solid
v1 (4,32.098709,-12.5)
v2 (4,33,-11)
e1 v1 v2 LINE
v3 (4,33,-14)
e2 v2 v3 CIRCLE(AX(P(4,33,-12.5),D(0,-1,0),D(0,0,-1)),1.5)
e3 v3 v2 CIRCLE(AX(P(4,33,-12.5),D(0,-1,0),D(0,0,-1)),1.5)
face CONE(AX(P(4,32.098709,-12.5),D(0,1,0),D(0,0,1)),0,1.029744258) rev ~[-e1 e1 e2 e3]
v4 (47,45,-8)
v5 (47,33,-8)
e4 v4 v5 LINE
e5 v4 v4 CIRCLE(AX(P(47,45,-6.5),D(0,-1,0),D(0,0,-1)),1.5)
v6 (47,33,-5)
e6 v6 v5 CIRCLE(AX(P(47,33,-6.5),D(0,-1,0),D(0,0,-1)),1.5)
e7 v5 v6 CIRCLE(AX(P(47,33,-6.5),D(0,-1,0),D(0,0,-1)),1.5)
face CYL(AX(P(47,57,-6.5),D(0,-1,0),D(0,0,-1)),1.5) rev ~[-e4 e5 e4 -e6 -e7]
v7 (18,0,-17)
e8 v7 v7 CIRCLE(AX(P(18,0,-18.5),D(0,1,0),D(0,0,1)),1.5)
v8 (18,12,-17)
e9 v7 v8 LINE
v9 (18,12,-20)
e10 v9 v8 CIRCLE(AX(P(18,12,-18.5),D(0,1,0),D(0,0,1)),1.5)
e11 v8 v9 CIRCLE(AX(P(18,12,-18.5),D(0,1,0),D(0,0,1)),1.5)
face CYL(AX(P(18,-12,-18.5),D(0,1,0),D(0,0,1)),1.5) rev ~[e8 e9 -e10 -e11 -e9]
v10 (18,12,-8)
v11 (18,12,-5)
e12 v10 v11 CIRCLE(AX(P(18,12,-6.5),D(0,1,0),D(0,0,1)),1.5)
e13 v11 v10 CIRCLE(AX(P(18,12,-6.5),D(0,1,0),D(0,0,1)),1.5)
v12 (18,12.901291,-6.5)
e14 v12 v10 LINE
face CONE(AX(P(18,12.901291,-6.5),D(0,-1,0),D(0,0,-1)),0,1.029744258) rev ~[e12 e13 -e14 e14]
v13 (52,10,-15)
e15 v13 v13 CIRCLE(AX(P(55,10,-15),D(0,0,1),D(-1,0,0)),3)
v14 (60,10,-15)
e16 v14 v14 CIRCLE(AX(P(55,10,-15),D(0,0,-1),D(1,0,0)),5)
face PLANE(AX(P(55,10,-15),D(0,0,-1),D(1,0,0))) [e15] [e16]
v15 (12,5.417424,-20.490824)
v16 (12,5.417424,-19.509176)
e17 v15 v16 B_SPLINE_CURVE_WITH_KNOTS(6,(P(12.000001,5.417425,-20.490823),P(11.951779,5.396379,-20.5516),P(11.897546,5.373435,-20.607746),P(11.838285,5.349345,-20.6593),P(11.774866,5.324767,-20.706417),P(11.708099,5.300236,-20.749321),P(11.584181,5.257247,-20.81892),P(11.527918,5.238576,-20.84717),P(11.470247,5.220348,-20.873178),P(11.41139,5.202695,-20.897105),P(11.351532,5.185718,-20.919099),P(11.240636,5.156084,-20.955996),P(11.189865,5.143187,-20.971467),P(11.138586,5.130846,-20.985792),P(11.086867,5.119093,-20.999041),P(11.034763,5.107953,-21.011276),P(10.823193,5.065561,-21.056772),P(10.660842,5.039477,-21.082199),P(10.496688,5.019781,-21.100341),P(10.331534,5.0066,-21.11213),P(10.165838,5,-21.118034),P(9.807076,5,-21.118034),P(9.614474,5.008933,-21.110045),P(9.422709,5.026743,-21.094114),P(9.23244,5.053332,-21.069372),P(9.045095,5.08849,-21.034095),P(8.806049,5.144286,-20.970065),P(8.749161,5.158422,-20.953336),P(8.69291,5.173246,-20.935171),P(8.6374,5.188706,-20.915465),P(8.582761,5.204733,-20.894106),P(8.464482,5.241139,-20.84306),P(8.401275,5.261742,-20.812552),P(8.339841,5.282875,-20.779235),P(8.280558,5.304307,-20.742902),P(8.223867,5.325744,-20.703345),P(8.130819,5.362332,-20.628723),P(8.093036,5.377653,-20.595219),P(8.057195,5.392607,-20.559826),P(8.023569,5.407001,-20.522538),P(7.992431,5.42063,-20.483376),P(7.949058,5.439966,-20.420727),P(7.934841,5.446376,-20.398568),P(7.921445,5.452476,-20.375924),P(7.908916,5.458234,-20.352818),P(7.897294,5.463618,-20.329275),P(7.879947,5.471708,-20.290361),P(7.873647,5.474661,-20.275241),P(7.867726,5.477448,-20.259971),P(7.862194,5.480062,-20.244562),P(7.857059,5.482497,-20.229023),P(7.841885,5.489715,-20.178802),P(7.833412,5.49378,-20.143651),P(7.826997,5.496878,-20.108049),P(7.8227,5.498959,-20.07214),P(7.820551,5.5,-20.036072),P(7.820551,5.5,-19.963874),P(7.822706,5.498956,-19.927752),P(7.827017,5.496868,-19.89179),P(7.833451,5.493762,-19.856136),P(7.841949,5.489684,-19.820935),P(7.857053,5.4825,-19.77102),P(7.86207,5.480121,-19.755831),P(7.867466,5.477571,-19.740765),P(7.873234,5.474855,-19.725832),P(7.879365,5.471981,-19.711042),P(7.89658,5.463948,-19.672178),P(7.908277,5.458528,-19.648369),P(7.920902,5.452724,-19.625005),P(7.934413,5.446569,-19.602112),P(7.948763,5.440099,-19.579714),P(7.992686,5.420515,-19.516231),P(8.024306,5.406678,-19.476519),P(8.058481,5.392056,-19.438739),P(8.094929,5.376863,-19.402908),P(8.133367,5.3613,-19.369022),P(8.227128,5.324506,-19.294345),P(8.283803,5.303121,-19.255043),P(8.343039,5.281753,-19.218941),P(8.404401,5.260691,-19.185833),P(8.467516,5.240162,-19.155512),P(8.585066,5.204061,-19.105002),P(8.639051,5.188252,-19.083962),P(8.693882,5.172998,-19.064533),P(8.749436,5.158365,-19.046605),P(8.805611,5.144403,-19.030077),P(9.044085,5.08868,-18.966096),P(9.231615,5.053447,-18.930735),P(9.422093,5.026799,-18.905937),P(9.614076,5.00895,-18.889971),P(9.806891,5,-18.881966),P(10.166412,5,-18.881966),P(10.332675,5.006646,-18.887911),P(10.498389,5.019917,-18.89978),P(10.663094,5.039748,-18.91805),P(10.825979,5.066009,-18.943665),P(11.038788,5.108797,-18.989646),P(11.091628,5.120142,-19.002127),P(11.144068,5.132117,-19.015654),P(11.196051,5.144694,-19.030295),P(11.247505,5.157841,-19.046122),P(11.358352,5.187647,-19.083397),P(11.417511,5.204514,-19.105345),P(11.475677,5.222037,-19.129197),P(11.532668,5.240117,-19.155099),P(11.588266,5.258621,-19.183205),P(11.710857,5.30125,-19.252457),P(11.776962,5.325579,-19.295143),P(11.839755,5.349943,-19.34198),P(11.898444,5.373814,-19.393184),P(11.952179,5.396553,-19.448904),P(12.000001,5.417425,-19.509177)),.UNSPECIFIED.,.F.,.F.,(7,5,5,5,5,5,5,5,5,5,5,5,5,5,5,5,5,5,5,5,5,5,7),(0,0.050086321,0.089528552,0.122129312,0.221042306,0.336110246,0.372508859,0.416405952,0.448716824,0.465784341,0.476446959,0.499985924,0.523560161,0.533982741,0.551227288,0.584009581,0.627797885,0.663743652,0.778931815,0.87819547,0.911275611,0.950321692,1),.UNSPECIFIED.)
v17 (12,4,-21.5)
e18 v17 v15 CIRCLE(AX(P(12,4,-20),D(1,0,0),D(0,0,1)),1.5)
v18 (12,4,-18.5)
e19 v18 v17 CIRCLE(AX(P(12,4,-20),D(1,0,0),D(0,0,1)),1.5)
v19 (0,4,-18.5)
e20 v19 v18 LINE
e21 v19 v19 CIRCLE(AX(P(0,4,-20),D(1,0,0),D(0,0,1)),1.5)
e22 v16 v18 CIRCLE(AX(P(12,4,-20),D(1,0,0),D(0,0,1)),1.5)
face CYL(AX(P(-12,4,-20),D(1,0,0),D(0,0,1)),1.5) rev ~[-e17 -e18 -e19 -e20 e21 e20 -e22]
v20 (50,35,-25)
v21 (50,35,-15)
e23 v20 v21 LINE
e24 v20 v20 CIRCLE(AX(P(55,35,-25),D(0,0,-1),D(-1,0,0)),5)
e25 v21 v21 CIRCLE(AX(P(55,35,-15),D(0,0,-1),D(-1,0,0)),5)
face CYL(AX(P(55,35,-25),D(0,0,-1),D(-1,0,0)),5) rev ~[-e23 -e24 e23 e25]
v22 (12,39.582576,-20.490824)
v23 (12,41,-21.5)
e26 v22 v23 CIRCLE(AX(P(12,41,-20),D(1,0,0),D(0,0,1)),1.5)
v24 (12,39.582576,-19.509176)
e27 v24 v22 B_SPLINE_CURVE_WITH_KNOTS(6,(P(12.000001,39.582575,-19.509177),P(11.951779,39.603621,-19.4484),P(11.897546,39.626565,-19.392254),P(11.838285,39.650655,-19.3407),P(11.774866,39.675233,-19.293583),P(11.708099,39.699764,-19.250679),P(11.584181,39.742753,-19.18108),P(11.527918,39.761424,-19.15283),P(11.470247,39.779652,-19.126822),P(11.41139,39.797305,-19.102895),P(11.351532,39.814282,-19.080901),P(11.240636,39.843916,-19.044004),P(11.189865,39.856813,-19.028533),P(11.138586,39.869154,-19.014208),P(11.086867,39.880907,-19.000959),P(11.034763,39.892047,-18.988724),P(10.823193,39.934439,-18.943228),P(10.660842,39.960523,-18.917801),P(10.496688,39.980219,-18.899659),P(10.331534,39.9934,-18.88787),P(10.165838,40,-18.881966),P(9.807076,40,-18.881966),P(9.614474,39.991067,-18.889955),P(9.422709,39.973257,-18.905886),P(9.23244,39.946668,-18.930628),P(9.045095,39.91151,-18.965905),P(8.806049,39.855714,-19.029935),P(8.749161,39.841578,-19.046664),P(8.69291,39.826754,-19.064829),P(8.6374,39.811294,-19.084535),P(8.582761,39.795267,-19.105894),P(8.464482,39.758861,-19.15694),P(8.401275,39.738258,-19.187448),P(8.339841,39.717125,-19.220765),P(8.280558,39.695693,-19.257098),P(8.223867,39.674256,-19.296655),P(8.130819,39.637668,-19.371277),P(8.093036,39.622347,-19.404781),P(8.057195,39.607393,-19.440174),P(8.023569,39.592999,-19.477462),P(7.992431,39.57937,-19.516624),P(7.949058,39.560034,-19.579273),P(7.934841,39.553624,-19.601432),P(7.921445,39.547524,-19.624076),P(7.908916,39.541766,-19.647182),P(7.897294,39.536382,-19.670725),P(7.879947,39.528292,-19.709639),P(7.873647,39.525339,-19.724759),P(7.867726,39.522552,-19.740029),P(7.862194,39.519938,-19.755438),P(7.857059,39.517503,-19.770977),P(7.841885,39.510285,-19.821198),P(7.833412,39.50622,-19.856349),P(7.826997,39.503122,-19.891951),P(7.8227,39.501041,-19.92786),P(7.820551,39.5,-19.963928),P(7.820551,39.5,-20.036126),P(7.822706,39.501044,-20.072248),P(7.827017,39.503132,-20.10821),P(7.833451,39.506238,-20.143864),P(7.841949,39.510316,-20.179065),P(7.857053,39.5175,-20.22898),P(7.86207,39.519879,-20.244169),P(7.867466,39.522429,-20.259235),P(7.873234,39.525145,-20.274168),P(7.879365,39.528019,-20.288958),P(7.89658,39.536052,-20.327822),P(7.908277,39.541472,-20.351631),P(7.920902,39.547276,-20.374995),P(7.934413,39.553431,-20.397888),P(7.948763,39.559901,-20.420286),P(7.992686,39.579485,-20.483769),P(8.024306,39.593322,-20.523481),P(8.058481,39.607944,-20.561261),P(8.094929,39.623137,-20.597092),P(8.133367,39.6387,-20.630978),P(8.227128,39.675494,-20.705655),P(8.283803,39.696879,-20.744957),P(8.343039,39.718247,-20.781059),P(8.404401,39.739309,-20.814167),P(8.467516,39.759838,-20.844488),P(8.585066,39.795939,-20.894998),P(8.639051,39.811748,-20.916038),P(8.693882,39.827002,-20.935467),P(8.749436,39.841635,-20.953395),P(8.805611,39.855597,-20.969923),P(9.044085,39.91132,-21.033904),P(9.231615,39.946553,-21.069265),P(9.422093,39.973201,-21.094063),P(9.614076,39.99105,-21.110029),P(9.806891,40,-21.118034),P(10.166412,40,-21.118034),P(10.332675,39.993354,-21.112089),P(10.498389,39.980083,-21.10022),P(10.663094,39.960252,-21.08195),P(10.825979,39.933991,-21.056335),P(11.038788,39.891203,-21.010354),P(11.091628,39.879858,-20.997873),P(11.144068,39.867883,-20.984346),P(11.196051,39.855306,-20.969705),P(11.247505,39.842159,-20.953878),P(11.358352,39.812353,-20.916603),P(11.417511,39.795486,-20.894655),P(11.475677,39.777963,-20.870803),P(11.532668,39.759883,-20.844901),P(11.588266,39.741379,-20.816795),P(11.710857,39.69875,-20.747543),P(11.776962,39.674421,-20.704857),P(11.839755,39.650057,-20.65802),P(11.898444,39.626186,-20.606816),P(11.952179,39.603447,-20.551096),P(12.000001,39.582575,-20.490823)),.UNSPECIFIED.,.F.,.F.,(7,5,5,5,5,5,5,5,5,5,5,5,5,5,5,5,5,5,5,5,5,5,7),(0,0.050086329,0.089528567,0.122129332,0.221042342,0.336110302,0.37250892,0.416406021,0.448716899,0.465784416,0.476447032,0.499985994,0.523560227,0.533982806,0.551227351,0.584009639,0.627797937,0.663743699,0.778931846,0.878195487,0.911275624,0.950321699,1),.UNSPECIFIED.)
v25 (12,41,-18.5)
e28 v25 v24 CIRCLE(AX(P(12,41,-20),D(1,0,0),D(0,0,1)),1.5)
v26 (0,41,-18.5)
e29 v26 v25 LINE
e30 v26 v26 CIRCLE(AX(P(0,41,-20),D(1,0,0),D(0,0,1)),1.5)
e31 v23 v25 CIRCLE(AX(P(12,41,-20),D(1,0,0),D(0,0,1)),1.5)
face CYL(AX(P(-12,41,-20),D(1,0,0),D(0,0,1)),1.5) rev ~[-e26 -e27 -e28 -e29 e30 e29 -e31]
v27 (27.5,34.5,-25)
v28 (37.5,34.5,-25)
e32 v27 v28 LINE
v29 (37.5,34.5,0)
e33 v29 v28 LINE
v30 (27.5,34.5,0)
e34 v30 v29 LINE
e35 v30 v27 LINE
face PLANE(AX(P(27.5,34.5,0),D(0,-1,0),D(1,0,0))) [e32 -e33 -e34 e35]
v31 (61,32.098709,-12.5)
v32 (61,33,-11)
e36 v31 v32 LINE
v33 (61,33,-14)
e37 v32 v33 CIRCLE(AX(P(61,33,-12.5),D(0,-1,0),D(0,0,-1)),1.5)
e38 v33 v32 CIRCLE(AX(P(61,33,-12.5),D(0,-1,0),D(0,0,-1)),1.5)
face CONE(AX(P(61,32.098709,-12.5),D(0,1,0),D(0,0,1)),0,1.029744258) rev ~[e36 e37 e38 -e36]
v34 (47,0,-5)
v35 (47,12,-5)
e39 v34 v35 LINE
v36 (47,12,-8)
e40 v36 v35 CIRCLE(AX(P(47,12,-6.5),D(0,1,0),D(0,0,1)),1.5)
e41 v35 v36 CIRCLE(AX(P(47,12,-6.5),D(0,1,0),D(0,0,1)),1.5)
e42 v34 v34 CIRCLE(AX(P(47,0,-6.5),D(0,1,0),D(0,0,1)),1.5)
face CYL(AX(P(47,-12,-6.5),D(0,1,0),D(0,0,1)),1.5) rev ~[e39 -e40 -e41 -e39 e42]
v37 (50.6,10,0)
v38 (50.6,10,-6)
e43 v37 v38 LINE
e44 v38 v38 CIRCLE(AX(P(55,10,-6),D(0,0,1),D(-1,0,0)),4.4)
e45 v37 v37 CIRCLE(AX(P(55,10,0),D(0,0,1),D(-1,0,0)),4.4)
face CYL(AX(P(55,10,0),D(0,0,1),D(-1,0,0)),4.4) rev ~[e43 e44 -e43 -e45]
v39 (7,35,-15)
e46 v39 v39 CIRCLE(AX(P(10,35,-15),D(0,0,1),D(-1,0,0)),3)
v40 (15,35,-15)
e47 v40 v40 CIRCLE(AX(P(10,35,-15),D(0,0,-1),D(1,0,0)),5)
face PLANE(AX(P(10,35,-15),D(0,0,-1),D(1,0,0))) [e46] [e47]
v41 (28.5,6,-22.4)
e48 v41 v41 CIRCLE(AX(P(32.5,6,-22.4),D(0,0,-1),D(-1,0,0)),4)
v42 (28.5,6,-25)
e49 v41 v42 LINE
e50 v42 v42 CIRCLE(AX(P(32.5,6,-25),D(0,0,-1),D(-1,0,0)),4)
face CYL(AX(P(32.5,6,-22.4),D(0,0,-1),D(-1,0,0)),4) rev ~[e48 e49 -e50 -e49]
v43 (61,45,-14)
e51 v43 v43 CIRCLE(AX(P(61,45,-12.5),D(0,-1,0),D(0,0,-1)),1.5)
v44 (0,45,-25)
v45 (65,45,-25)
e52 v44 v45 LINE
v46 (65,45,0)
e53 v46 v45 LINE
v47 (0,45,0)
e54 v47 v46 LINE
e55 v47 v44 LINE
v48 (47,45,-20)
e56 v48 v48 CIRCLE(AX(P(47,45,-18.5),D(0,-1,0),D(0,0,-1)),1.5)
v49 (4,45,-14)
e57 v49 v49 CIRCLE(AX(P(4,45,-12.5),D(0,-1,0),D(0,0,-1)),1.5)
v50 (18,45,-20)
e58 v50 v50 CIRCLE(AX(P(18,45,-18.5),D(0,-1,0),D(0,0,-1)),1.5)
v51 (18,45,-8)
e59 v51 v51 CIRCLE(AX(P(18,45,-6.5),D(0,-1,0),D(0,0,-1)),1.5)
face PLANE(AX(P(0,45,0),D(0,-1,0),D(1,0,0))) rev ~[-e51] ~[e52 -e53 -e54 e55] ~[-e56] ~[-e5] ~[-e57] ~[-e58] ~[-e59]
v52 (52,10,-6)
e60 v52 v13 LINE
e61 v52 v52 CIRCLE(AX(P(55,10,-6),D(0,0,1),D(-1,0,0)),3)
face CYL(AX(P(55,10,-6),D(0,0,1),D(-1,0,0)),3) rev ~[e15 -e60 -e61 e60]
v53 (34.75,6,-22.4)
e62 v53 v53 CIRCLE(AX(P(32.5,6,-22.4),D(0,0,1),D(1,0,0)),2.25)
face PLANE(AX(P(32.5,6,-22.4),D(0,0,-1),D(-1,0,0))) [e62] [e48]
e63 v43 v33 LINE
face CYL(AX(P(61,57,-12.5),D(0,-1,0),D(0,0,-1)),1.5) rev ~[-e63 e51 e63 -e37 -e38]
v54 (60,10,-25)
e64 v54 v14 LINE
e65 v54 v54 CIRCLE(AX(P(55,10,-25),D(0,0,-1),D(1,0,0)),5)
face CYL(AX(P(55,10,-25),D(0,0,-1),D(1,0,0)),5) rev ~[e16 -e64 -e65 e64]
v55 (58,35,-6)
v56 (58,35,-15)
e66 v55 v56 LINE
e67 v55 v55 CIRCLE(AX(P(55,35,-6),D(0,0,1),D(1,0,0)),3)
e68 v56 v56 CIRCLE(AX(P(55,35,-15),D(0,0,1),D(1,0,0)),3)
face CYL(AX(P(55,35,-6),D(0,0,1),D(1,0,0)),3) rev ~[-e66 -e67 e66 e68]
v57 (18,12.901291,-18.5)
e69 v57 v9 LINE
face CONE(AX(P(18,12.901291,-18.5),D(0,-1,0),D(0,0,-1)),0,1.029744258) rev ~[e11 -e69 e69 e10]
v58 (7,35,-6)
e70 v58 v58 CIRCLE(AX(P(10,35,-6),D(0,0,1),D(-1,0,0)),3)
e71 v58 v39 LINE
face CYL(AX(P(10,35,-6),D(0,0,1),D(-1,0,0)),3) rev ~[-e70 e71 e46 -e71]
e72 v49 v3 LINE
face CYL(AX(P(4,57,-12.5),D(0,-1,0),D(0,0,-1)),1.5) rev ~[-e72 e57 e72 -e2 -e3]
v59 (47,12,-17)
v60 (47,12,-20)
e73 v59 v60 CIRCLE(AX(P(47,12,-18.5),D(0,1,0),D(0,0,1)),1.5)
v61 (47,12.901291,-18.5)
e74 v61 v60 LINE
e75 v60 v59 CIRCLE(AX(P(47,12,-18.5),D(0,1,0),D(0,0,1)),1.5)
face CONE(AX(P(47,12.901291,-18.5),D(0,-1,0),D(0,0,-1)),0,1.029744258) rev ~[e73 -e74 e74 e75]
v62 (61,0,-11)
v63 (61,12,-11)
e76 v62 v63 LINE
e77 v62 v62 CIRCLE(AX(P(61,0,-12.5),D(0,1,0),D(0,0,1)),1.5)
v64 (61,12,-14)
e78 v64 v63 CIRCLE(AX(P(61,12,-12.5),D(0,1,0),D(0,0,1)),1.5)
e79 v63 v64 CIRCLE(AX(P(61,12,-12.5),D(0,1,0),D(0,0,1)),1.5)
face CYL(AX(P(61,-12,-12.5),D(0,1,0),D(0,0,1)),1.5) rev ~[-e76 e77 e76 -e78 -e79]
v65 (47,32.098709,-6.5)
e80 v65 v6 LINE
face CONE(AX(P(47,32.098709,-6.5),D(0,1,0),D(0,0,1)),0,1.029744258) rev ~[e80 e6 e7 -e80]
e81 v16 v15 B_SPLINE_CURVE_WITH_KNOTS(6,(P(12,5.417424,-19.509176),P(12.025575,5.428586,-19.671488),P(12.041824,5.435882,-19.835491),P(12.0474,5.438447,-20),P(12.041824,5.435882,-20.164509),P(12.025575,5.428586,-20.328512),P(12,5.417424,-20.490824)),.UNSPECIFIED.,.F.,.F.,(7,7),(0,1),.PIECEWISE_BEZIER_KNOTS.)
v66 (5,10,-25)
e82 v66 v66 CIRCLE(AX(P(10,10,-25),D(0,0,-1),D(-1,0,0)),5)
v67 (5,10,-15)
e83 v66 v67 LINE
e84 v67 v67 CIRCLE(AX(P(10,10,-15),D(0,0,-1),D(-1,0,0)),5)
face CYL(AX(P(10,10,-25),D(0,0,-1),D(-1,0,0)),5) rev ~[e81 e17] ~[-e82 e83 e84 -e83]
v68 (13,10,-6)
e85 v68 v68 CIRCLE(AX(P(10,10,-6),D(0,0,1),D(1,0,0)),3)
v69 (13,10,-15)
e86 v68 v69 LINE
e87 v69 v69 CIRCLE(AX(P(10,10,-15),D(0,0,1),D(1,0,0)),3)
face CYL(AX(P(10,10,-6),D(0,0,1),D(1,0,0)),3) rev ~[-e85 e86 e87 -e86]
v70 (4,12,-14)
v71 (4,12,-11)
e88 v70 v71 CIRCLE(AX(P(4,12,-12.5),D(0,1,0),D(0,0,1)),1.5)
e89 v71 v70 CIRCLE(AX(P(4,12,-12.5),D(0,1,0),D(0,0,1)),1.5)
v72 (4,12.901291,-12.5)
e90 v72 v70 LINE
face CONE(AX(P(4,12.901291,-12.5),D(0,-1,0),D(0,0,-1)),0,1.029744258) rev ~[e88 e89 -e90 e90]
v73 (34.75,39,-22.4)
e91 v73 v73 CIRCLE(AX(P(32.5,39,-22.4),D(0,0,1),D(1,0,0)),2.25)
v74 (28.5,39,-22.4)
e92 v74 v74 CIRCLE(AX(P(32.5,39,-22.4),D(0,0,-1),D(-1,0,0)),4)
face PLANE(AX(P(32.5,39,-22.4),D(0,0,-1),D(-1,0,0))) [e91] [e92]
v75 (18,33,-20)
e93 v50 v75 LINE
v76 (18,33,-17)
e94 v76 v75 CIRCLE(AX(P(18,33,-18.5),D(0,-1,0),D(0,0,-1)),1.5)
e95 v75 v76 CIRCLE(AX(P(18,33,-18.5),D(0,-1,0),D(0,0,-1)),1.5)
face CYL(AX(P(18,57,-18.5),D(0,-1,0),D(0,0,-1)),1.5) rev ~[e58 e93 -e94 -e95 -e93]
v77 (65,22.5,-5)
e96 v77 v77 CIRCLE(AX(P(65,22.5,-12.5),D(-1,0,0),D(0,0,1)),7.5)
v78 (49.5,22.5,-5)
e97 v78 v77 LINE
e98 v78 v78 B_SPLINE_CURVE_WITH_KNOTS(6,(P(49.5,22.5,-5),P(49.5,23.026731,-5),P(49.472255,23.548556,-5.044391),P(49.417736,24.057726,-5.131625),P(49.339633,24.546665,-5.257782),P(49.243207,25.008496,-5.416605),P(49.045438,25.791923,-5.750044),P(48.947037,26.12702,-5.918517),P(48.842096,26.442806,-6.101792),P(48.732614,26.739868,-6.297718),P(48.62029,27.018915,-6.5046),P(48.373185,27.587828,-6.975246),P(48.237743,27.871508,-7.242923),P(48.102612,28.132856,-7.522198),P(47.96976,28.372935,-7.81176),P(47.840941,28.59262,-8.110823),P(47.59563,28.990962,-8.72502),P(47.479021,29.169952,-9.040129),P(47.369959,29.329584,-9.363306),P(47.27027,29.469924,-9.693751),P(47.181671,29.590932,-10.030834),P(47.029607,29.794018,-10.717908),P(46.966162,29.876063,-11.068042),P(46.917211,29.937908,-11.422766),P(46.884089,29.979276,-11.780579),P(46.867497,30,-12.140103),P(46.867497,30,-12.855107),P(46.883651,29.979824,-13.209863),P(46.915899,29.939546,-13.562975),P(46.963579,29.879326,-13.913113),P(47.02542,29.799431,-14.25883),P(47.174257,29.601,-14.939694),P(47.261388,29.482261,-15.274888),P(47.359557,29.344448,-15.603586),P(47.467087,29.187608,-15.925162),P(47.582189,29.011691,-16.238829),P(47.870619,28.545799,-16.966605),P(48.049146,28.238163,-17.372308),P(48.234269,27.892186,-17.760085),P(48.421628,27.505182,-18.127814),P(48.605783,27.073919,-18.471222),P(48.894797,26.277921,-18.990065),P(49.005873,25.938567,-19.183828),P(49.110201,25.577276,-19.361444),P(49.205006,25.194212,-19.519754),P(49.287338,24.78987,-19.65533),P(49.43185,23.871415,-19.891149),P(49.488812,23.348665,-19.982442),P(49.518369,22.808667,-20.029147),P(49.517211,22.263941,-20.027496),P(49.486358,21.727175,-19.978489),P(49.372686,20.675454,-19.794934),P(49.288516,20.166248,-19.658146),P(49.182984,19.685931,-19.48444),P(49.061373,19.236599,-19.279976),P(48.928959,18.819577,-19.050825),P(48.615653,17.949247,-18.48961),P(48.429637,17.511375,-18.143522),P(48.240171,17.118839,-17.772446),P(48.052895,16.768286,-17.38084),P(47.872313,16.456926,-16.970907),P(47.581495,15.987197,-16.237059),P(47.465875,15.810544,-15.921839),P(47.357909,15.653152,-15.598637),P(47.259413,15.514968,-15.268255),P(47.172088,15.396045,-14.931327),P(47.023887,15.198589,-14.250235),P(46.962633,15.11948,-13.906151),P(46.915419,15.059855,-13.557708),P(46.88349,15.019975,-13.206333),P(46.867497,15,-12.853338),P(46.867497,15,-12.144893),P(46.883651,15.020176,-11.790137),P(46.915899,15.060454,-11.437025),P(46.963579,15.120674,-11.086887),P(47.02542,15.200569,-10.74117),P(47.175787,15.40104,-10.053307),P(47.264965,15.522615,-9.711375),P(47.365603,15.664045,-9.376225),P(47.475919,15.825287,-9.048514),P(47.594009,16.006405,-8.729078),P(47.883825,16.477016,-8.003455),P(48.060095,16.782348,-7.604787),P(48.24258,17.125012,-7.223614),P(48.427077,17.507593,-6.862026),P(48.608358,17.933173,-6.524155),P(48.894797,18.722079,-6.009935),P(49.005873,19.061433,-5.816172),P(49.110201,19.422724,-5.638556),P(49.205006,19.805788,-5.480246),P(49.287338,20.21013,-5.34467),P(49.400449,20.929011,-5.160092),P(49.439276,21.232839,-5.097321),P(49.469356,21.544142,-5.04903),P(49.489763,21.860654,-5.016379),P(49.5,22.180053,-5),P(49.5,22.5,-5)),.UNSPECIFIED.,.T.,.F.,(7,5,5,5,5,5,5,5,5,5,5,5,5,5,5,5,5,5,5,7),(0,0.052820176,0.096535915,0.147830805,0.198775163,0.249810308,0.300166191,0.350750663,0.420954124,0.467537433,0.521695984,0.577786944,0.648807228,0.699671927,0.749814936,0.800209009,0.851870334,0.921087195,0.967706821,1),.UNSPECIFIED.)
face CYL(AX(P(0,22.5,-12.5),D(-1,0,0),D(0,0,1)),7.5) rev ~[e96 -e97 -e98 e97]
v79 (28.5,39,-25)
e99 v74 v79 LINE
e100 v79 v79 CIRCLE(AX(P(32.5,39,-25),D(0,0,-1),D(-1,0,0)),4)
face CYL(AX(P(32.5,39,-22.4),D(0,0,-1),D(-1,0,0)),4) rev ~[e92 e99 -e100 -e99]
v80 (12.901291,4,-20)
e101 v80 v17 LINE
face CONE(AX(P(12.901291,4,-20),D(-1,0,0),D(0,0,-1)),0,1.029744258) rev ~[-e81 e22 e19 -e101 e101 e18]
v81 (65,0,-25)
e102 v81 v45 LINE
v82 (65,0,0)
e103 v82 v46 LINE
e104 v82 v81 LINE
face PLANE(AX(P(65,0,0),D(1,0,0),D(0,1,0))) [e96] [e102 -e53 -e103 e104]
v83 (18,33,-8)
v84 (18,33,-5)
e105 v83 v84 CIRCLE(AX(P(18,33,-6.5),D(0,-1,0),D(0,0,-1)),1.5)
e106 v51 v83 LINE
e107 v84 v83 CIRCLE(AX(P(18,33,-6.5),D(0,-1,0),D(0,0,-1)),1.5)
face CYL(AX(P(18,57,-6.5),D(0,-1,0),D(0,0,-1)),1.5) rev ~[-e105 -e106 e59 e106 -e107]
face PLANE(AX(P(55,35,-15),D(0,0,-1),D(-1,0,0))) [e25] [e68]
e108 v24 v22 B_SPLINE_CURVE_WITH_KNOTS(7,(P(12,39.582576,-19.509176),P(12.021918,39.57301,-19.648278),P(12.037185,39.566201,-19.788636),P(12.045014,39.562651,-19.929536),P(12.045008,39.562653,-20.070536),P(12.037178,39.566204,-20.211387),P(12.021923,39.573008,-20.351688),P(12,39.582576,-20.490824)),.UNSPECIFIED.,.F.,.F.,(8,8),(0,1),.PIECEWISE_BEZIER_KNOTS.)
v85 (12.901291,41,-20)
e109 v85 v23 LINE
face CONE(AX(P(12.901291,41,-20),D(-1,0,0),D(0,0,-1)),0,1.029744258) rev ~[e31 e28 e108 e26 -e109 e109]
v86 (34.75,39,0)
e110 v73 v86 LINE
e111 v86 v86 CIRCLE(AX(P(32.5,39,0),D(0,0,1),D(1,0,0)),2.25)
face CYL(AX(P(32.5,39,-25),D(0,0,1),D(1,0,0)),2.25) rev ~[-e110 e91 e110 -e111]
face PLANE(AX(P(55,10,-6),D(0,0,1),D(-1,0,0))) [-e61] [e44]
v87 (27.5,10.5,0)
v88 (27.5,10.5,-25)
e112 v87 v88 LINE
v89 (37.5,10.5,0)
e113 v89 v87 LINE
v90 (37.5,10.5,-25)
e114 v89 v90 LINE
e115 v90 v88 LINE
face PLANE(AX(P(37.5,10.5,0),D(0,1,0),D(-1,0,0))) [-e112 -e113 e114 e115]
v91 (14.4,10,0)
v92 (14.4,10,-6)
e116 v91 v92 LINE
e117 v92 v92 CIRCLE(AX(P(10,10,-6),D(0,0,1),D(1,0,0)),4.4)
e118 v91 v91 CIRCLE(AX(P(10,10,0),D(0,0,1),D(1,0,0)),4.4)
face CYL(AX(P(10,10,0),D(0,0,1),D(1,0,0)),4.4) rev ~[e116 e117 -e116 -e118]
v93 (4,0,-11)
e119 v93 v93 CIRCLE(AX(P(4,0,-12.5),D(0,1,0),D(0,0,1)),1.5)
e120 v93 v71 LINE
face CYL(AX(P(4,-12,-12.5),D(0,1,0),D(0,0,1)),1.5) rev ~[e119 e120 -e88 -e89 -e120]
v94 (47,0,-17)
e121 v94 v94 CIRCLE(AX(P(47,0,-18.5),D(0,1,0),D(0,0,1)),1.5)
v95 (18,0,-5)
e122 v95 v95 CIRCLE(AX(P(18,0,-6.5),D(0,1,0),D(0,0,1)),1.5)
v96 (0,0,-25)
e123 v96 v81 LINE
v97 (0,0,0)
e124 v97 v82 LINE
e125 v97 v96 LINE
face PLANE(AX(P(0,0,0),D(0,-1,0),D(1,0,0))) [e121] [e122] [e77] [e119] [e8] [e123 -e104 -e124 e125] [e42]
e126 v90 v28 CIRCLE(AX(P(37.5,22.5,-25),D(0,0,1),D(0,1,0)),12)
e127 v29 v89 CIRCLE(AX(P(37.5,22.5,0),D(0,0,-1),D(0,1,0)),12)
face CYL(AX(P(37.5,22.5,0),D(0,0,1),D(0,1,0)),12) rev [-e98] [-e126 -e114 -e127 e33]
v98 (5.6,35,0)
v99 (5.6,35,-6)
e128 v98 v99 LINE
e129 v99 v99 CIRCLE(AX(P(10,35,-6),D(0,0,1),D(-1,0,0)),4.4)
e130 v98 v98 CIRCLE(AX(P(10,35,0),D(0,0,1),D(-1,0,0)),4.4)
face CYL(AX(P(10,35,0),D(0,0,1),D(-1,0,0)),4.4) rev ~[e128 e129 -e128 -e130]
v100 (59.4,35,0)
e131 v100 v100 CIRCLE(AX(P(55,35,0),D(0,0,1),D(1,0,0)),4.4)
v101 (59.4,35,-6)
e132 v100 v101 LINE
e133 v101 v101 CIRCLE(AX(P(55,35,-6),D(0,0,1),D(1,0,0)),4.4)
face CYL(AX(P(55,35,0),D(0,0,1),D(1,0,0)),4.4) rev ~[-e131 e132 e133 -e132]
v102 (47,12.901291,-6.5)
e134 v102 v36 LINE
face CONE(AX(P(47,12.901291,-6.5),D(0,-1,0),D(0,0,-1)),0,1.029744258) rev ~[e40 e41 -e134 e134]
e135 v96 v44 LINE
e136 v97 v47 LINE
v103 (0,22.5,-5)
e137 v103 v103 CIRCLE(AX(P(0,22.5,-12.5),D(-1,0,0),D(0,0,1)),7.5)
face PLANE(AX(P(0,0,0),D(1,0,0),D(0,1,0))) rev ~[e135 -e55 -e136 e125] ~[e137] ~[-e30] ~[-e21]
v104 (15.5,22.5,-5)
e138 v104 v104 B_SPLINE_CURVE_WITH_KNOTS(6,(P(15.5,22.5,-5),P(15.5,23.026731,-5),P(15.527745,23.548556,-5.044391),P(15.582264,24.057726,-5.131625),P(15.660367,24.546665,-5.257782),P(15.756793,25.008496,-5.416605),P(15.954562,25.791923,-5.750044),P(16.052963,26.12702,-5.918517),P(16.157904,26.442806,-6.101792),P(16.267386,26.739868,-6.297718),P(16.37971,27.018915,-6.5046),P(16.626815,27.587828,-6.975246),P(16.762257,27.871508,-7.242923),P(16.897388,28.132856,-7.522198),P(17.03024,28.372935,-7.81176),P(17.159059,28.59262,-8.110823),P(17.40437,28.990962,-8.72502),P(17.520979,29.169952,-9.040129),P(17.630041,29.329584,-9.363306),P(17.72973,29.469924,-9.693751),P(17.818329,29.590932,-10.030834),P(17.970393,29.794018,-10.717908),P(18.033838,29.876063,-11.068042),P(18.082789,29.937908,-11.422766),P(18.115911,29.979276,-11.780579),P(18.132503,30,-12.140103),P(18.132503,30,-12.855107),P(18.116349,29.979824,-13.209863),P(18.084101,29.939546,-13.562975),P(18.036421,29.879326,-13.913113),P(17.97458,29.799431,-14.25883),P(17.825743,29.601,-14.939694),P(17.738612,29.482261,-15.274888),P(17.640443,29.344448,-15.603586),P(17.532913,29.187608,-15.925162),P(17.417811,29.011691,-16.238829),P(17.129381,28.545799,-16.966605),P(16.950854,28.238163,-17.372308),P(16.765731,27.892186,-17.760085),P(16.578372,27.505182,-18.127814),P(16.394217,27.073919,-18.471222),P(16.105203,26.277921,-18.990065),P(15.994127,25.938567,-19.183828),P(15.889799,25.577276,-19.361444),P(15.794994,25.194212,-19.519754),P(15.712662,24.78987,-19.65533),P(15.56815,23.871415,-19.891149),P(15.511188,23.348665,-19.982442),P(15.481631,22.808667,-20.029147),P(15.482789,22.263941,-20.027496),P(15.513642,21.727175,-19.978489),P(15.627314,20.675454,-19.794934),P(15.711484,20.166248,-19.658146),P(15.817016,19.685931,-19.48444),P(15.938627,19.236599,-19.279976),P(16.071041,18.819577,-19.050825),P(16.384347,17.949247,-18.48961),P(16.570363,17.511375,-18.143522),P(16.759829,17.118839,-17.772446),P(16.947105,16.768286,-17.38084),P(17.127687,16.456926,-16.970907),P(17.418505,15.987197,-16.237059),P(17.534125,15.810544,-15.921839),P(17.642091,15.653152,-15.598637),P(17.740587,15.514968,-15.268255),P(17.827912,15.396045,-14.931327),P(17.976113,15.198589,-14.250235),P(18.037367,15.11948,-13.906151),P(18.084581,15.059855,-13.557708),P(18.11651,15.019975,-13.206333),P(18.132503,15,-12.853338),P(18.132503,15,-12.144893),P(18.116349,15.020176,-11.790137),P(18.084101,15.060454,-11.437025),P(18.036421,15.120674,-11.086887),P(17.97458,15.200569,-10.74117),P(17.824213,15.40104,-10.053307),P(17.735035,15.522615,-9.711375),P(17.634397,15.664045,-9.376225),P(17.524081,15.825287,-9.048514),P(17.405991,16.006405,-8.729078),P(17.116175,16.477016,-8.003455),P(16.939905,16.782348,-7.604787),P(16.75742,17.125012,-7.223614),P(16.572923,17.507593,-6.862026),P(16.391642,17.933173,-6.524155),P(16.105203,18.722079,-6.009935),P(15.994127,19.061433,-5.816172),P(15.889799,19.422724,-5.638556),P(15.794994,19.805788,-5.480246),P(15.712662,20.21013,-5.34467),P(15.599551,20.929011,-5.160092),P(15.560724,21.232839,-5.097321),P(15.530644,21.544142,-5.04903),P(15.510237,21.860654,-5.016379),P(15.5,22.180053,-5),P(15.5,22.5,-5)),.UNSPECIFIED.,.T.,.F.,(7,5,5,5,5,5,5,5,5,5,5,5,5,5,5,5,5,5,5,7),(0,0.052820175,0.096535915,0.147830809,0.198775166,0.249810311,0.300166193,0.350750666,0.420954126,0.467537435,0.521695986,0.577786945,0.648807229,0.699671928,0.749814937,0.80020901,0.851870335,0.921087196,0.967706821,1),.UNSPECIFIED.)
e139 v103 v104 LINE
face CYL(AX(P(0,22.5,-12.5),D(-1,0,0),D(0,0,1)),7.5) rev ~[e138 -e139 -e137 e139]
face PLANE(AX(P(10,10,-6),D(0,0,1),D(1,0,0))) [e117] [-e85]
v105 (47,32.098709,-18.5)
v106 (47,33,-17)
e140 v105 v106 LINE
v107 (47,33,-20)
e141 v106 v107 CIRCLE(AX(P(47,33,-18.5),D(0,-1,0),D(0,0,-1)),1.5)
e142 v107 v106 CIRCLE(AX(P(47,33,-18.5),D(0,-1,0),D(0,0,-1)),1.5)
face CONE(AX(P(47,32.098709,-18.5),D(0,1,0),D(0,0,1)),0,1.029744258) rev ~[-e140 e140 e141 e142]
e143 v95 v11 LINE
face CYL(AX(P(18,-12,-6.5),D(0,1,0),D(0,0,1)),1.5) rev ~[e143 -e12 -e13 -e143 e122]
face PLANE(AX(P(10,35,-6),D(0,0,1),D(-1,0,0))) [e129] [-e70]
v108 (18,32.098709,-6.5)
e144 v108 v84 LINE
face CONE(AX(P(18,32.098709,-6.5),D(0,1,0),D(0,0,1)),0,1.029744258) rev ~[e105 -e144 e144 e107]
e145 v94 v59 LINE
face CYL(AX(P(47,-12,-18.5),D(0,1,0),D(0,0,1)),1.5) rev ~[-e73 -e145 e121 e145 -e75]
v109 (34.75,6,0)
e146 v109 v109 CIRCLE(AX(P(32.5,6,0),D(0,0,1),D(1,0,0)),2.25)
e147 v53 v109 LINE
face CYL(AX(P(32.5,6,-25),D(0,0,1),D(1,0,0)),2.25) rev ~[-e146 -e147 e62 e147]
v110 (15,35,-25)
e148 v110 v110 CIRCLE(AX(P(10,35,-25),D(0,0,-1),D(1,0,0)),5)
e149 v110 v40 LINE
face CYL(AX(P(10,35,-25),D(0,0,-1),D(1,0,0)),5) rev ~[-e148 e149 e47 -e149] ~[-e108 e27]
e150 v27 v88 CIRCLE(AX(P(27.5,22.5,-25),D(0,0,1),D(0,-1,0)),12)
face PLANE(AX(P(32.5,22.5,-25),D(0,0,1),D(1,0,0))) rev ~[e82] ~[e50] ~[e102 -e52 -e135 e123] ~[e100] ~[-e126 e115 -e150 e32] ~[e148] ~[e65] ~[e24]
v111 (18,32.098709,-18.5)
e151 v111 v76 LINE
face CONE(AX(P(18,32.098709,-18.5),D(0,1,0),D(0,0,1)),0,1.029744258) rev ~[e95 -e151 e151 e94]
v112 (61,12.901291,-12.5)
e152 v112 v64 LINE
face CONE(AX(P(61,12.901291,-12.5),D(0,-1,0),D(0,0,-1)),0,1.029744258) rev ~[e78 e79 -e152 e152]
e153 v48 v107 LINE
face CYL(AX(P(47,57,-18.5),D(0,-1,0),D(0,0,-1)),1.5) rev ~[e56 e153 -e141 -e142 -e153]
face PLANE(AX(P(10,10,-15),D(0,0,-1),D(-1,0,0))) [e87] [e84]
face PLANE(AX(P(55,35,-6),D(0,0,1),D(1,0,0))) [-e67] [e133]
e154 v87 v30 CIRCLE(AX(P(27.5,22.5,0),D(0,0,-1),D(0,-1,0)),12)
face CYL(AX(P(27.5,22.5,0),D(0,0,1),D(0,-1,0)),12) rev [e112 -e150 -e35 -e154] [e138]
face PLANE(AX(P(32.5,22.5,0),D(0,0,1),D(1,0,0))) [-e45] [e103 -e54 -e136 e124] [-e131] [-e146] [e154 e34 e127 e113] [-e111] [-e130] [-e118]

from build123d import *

# Parameters (mm, degrees)
SCHIZZO1_W                                           = 65
SCHIZZO1_H                                           = 45
ESTRUSIONE_ESTRUSIONE1_DEPTH                         = 25
SCHIZZO2_R                                           = 7.5
TAGLIO_ESTRUSIONE1_DEPTH                             = 83.915619759
FORO_LAMATO_PER_VITE_M4_A_TESTA_CILINDRI_D           = 4.5
FORO_LAMATO_PER_VITE_M4_A_TESTA_CILINDRI_CBORE_D     = 8
FORO_LAMATO_PER_VITE_M4_A_TESTA_CILINDRI_CBORE_DEPTH = 2.6
TAGLIO_ESTRUSIONE4_DEPTH                             = 83.915619759
SCHIZZO15_R                                          = 4.4
TAGLIO_ESTRUSIONE5_DEPTH                             = 6
SCHIZZO16_R                                          = 3
TAGLIO_ESTRUSIONE6_DEPTH                             = 82.308056285
SCHIZZO17_R                                          = 5
TAGLIO_ESTRUSIONE8_DEPTH                             = 10
FORO_3_0_3_1_D                                       = 3
FORO_3_0_3_1_DEPTH                                   = 12
FORO_3_0_3_1_TIP                                     = 0.901290929
FORO_3_0_3_2_D                                       = 3
FORO_3_0_3_2_DEPTH                                   = 12
FORO_3_0_3_2_TIP                                     = 0.901290929
FORO_3_0_3_3_D                                       = 3
FORO_3_0_3_3_DEPTH                                   = 12
FORO_3_0_3_3_TIP                                     = 0.901290929


with BuildPart() as part:
    # Schizzo1 → Estrusione-Estrusione1 (new body)
    with BuildSketch(Plane.XY):
        with Locations((32.5, 22.5)):
            Rectangle(SCHIZZO1_W, SCHIZZO1_H)
    extrude(amount=-ESTRUSIONE_ESTRUSIONE1_DEPTH)

    # Schizzo2 → Taglio-Estrusione1 (cut, through all)
    with BuildSketch(Plane.ZY):
        with Locations((-12.5, 22.5)):
            Circle(SCHIZZO2_R)
    extrude(amount=-TAGLIO_ESTRUSIONE1_DEPTH, mode=Mode.SUBTRACT)

    # Foro lamato per Vite M4 a testa cilindrica piana-1 (through all)
    with Locations(Plane(origin=(32.5, 39, -25), x_dir=(-1, 0, 0), z_dir=(0, 0, -1))):
        with Locations((0, 0), (0, -33)):
            CounterBoreHole(FORO_LAMATO_PER_VITE_M4_A_TESTA_CILINDRI_D / 2, FORO_LAMATO_PER_VITE_M4_A_TESTA_CILINDRI_CBORE_D / 2, FORO_LAMATO_PER_VITE_M4_A_TESTA_CILINDRI_CBORE_DEPTH)

    # Schizzo14 → Taglio-Estrusione4 (cut, through all)
    with BuildSketch(Plane.XY):
        with BuildLine():
            Line((37.5, 10.5), (27.5, 10.5))
            ThreePointArc((27.5, 10.5), (15.5, 22.5), (27.5, 34.5))
            Line((27.5, 34.5), (37.5, 34.5))
            ThreePointArc((37.5, 34.5), (49.5, 22.5), (37.5, 10.5))
        make_face()
    extrude(amount=-TAGLIO_ESTRUSIONE4_DEPTH, mode=Mode.SUBTRACT)

    # Schizzo15 → Taglio-Estrusione5 (cut)
    with BuildSketch(Plane.XY):
        with Locations((10, 10)):
            Circle(SCHIZZO15_R)
        with Locations((55, 10)):
            Circle(SCHIZZO15_R)
        with Locations((55, 35)):
            Circle(SCHIZZO15_R)
        with Locations((10, 35)):
            Circle(SCHIZZO15_R)
    extrude(amount=-TAGLIO_ESTRUSIONE5_DEPTH, mode=Mode.SUBTRACT)

    # Schizzo16 → Taglio-Estrusione6 (cut, through all)
    with BuildSketch(Plane.XY.offset(-6)):
        with Locations((10, 10)):
            Circle(SCHIZZO16_R)
        with Locations((55, 10)):
            Circle(SCHIZZO16_R)
        with Locations((55, 35)):
            Circle(SCHIZZO16_R)
        with Locations((10, 35)):
            Circle(SCHIZZO16_R)
    extrude(amount=-TAGLIO_ESTRUSIONE6_DEPTH, mode=Mode.SUBTRACT)

    # Schizzo17 → Taglio-Estrusione8 (cut)
    with BuildSketch(Plane(origin=(0, 0, -25), x_dir=(-1, 0, 0), z_dir=(0, 0, -1))):
        with Locations((-10, 10)):
            Circle(SCHIZZO17_R)
        with Locations((-55, 10)):
            Circle(SCHIZZO17_R)
        with Locations((-55, 35)):
            Circle(SCHIZZO17_R)
        with Locations((-10, 35)):
            Circle(SCHIZZO17_R)
    extrude(amount=-TAGLIO_ESTRUSIONE8_DEPTH, mode=Mode.SUBTRACT)

    # Foro Ø3.0 (3)-1
    with Locations(Plane(origin=(18, 45, -18.5), x_dir=(0, 0, 1), z_dir=(0, 1, 0))):
        with Locations((0, 0), (12, 0), (6, -14), (0, 29), (12, 29), (6, 43)):
            Hole(FORO_3_0_3_1_D / 2, depth=FORO_3_0_3_1_DEPTH)
            with Locations((0, 0, -(FORO_3_0_3_1_DEPTH + FORO_3_0_3_1_TIP / 2))):  # 118° drill point
                Cone(0, FORO_3_0_3_1_D / 2, FORO_3_0_3_1_TIP, mode=Mode.SUBTRACT)

    # Foro Ø3.0 (3)-2
    with Locations(Plane(origin=(18, 0, -6.5), x_dir=(0, 0, -1), z_dir=(0, -1, 0))):
        with Locations((0, 0), (6, -14), (12, 0), (0, 29), (12, 29), (6, 43)):
            Hole(FORO_3_0_3_2_D / 2, depth=FORO_3_0_3_2_DEPTH)
            with Locations((0, 0, -(FORO_3_0_3_2_DEPTH + FORO_3_0_3_2_TIP / 2))):  # 118° drill point
                Cone(0, FORO_3_0_3_2_D / 2, FORO_3_0_3_2_TIP, mode=Mode.SUBTRACT)

    # Foro Ø3.0 (3)-3
    with Locations(Plane(origin=(0, 41, -20), x_dir=(0, 0, -1), z_dir=(-1, 0, 0))):
        with Locations((0, 0), (0, 37)):
            Hole(FORO_3_0_3_3_D / 2, depth=FORO_3_0_3_3_DEPTH)
            with Locations((0, 0, -(FORO_3_0_3_3_DEPTH + FORO_3_0_3_3_TIP / 2))):  # 118° drill point
                Cone(0, FORO_3_0_3_3_D / 2, FORO_3_0_3_3_TIP, mode=Mode.SUBTRACT)


solid = part.part
